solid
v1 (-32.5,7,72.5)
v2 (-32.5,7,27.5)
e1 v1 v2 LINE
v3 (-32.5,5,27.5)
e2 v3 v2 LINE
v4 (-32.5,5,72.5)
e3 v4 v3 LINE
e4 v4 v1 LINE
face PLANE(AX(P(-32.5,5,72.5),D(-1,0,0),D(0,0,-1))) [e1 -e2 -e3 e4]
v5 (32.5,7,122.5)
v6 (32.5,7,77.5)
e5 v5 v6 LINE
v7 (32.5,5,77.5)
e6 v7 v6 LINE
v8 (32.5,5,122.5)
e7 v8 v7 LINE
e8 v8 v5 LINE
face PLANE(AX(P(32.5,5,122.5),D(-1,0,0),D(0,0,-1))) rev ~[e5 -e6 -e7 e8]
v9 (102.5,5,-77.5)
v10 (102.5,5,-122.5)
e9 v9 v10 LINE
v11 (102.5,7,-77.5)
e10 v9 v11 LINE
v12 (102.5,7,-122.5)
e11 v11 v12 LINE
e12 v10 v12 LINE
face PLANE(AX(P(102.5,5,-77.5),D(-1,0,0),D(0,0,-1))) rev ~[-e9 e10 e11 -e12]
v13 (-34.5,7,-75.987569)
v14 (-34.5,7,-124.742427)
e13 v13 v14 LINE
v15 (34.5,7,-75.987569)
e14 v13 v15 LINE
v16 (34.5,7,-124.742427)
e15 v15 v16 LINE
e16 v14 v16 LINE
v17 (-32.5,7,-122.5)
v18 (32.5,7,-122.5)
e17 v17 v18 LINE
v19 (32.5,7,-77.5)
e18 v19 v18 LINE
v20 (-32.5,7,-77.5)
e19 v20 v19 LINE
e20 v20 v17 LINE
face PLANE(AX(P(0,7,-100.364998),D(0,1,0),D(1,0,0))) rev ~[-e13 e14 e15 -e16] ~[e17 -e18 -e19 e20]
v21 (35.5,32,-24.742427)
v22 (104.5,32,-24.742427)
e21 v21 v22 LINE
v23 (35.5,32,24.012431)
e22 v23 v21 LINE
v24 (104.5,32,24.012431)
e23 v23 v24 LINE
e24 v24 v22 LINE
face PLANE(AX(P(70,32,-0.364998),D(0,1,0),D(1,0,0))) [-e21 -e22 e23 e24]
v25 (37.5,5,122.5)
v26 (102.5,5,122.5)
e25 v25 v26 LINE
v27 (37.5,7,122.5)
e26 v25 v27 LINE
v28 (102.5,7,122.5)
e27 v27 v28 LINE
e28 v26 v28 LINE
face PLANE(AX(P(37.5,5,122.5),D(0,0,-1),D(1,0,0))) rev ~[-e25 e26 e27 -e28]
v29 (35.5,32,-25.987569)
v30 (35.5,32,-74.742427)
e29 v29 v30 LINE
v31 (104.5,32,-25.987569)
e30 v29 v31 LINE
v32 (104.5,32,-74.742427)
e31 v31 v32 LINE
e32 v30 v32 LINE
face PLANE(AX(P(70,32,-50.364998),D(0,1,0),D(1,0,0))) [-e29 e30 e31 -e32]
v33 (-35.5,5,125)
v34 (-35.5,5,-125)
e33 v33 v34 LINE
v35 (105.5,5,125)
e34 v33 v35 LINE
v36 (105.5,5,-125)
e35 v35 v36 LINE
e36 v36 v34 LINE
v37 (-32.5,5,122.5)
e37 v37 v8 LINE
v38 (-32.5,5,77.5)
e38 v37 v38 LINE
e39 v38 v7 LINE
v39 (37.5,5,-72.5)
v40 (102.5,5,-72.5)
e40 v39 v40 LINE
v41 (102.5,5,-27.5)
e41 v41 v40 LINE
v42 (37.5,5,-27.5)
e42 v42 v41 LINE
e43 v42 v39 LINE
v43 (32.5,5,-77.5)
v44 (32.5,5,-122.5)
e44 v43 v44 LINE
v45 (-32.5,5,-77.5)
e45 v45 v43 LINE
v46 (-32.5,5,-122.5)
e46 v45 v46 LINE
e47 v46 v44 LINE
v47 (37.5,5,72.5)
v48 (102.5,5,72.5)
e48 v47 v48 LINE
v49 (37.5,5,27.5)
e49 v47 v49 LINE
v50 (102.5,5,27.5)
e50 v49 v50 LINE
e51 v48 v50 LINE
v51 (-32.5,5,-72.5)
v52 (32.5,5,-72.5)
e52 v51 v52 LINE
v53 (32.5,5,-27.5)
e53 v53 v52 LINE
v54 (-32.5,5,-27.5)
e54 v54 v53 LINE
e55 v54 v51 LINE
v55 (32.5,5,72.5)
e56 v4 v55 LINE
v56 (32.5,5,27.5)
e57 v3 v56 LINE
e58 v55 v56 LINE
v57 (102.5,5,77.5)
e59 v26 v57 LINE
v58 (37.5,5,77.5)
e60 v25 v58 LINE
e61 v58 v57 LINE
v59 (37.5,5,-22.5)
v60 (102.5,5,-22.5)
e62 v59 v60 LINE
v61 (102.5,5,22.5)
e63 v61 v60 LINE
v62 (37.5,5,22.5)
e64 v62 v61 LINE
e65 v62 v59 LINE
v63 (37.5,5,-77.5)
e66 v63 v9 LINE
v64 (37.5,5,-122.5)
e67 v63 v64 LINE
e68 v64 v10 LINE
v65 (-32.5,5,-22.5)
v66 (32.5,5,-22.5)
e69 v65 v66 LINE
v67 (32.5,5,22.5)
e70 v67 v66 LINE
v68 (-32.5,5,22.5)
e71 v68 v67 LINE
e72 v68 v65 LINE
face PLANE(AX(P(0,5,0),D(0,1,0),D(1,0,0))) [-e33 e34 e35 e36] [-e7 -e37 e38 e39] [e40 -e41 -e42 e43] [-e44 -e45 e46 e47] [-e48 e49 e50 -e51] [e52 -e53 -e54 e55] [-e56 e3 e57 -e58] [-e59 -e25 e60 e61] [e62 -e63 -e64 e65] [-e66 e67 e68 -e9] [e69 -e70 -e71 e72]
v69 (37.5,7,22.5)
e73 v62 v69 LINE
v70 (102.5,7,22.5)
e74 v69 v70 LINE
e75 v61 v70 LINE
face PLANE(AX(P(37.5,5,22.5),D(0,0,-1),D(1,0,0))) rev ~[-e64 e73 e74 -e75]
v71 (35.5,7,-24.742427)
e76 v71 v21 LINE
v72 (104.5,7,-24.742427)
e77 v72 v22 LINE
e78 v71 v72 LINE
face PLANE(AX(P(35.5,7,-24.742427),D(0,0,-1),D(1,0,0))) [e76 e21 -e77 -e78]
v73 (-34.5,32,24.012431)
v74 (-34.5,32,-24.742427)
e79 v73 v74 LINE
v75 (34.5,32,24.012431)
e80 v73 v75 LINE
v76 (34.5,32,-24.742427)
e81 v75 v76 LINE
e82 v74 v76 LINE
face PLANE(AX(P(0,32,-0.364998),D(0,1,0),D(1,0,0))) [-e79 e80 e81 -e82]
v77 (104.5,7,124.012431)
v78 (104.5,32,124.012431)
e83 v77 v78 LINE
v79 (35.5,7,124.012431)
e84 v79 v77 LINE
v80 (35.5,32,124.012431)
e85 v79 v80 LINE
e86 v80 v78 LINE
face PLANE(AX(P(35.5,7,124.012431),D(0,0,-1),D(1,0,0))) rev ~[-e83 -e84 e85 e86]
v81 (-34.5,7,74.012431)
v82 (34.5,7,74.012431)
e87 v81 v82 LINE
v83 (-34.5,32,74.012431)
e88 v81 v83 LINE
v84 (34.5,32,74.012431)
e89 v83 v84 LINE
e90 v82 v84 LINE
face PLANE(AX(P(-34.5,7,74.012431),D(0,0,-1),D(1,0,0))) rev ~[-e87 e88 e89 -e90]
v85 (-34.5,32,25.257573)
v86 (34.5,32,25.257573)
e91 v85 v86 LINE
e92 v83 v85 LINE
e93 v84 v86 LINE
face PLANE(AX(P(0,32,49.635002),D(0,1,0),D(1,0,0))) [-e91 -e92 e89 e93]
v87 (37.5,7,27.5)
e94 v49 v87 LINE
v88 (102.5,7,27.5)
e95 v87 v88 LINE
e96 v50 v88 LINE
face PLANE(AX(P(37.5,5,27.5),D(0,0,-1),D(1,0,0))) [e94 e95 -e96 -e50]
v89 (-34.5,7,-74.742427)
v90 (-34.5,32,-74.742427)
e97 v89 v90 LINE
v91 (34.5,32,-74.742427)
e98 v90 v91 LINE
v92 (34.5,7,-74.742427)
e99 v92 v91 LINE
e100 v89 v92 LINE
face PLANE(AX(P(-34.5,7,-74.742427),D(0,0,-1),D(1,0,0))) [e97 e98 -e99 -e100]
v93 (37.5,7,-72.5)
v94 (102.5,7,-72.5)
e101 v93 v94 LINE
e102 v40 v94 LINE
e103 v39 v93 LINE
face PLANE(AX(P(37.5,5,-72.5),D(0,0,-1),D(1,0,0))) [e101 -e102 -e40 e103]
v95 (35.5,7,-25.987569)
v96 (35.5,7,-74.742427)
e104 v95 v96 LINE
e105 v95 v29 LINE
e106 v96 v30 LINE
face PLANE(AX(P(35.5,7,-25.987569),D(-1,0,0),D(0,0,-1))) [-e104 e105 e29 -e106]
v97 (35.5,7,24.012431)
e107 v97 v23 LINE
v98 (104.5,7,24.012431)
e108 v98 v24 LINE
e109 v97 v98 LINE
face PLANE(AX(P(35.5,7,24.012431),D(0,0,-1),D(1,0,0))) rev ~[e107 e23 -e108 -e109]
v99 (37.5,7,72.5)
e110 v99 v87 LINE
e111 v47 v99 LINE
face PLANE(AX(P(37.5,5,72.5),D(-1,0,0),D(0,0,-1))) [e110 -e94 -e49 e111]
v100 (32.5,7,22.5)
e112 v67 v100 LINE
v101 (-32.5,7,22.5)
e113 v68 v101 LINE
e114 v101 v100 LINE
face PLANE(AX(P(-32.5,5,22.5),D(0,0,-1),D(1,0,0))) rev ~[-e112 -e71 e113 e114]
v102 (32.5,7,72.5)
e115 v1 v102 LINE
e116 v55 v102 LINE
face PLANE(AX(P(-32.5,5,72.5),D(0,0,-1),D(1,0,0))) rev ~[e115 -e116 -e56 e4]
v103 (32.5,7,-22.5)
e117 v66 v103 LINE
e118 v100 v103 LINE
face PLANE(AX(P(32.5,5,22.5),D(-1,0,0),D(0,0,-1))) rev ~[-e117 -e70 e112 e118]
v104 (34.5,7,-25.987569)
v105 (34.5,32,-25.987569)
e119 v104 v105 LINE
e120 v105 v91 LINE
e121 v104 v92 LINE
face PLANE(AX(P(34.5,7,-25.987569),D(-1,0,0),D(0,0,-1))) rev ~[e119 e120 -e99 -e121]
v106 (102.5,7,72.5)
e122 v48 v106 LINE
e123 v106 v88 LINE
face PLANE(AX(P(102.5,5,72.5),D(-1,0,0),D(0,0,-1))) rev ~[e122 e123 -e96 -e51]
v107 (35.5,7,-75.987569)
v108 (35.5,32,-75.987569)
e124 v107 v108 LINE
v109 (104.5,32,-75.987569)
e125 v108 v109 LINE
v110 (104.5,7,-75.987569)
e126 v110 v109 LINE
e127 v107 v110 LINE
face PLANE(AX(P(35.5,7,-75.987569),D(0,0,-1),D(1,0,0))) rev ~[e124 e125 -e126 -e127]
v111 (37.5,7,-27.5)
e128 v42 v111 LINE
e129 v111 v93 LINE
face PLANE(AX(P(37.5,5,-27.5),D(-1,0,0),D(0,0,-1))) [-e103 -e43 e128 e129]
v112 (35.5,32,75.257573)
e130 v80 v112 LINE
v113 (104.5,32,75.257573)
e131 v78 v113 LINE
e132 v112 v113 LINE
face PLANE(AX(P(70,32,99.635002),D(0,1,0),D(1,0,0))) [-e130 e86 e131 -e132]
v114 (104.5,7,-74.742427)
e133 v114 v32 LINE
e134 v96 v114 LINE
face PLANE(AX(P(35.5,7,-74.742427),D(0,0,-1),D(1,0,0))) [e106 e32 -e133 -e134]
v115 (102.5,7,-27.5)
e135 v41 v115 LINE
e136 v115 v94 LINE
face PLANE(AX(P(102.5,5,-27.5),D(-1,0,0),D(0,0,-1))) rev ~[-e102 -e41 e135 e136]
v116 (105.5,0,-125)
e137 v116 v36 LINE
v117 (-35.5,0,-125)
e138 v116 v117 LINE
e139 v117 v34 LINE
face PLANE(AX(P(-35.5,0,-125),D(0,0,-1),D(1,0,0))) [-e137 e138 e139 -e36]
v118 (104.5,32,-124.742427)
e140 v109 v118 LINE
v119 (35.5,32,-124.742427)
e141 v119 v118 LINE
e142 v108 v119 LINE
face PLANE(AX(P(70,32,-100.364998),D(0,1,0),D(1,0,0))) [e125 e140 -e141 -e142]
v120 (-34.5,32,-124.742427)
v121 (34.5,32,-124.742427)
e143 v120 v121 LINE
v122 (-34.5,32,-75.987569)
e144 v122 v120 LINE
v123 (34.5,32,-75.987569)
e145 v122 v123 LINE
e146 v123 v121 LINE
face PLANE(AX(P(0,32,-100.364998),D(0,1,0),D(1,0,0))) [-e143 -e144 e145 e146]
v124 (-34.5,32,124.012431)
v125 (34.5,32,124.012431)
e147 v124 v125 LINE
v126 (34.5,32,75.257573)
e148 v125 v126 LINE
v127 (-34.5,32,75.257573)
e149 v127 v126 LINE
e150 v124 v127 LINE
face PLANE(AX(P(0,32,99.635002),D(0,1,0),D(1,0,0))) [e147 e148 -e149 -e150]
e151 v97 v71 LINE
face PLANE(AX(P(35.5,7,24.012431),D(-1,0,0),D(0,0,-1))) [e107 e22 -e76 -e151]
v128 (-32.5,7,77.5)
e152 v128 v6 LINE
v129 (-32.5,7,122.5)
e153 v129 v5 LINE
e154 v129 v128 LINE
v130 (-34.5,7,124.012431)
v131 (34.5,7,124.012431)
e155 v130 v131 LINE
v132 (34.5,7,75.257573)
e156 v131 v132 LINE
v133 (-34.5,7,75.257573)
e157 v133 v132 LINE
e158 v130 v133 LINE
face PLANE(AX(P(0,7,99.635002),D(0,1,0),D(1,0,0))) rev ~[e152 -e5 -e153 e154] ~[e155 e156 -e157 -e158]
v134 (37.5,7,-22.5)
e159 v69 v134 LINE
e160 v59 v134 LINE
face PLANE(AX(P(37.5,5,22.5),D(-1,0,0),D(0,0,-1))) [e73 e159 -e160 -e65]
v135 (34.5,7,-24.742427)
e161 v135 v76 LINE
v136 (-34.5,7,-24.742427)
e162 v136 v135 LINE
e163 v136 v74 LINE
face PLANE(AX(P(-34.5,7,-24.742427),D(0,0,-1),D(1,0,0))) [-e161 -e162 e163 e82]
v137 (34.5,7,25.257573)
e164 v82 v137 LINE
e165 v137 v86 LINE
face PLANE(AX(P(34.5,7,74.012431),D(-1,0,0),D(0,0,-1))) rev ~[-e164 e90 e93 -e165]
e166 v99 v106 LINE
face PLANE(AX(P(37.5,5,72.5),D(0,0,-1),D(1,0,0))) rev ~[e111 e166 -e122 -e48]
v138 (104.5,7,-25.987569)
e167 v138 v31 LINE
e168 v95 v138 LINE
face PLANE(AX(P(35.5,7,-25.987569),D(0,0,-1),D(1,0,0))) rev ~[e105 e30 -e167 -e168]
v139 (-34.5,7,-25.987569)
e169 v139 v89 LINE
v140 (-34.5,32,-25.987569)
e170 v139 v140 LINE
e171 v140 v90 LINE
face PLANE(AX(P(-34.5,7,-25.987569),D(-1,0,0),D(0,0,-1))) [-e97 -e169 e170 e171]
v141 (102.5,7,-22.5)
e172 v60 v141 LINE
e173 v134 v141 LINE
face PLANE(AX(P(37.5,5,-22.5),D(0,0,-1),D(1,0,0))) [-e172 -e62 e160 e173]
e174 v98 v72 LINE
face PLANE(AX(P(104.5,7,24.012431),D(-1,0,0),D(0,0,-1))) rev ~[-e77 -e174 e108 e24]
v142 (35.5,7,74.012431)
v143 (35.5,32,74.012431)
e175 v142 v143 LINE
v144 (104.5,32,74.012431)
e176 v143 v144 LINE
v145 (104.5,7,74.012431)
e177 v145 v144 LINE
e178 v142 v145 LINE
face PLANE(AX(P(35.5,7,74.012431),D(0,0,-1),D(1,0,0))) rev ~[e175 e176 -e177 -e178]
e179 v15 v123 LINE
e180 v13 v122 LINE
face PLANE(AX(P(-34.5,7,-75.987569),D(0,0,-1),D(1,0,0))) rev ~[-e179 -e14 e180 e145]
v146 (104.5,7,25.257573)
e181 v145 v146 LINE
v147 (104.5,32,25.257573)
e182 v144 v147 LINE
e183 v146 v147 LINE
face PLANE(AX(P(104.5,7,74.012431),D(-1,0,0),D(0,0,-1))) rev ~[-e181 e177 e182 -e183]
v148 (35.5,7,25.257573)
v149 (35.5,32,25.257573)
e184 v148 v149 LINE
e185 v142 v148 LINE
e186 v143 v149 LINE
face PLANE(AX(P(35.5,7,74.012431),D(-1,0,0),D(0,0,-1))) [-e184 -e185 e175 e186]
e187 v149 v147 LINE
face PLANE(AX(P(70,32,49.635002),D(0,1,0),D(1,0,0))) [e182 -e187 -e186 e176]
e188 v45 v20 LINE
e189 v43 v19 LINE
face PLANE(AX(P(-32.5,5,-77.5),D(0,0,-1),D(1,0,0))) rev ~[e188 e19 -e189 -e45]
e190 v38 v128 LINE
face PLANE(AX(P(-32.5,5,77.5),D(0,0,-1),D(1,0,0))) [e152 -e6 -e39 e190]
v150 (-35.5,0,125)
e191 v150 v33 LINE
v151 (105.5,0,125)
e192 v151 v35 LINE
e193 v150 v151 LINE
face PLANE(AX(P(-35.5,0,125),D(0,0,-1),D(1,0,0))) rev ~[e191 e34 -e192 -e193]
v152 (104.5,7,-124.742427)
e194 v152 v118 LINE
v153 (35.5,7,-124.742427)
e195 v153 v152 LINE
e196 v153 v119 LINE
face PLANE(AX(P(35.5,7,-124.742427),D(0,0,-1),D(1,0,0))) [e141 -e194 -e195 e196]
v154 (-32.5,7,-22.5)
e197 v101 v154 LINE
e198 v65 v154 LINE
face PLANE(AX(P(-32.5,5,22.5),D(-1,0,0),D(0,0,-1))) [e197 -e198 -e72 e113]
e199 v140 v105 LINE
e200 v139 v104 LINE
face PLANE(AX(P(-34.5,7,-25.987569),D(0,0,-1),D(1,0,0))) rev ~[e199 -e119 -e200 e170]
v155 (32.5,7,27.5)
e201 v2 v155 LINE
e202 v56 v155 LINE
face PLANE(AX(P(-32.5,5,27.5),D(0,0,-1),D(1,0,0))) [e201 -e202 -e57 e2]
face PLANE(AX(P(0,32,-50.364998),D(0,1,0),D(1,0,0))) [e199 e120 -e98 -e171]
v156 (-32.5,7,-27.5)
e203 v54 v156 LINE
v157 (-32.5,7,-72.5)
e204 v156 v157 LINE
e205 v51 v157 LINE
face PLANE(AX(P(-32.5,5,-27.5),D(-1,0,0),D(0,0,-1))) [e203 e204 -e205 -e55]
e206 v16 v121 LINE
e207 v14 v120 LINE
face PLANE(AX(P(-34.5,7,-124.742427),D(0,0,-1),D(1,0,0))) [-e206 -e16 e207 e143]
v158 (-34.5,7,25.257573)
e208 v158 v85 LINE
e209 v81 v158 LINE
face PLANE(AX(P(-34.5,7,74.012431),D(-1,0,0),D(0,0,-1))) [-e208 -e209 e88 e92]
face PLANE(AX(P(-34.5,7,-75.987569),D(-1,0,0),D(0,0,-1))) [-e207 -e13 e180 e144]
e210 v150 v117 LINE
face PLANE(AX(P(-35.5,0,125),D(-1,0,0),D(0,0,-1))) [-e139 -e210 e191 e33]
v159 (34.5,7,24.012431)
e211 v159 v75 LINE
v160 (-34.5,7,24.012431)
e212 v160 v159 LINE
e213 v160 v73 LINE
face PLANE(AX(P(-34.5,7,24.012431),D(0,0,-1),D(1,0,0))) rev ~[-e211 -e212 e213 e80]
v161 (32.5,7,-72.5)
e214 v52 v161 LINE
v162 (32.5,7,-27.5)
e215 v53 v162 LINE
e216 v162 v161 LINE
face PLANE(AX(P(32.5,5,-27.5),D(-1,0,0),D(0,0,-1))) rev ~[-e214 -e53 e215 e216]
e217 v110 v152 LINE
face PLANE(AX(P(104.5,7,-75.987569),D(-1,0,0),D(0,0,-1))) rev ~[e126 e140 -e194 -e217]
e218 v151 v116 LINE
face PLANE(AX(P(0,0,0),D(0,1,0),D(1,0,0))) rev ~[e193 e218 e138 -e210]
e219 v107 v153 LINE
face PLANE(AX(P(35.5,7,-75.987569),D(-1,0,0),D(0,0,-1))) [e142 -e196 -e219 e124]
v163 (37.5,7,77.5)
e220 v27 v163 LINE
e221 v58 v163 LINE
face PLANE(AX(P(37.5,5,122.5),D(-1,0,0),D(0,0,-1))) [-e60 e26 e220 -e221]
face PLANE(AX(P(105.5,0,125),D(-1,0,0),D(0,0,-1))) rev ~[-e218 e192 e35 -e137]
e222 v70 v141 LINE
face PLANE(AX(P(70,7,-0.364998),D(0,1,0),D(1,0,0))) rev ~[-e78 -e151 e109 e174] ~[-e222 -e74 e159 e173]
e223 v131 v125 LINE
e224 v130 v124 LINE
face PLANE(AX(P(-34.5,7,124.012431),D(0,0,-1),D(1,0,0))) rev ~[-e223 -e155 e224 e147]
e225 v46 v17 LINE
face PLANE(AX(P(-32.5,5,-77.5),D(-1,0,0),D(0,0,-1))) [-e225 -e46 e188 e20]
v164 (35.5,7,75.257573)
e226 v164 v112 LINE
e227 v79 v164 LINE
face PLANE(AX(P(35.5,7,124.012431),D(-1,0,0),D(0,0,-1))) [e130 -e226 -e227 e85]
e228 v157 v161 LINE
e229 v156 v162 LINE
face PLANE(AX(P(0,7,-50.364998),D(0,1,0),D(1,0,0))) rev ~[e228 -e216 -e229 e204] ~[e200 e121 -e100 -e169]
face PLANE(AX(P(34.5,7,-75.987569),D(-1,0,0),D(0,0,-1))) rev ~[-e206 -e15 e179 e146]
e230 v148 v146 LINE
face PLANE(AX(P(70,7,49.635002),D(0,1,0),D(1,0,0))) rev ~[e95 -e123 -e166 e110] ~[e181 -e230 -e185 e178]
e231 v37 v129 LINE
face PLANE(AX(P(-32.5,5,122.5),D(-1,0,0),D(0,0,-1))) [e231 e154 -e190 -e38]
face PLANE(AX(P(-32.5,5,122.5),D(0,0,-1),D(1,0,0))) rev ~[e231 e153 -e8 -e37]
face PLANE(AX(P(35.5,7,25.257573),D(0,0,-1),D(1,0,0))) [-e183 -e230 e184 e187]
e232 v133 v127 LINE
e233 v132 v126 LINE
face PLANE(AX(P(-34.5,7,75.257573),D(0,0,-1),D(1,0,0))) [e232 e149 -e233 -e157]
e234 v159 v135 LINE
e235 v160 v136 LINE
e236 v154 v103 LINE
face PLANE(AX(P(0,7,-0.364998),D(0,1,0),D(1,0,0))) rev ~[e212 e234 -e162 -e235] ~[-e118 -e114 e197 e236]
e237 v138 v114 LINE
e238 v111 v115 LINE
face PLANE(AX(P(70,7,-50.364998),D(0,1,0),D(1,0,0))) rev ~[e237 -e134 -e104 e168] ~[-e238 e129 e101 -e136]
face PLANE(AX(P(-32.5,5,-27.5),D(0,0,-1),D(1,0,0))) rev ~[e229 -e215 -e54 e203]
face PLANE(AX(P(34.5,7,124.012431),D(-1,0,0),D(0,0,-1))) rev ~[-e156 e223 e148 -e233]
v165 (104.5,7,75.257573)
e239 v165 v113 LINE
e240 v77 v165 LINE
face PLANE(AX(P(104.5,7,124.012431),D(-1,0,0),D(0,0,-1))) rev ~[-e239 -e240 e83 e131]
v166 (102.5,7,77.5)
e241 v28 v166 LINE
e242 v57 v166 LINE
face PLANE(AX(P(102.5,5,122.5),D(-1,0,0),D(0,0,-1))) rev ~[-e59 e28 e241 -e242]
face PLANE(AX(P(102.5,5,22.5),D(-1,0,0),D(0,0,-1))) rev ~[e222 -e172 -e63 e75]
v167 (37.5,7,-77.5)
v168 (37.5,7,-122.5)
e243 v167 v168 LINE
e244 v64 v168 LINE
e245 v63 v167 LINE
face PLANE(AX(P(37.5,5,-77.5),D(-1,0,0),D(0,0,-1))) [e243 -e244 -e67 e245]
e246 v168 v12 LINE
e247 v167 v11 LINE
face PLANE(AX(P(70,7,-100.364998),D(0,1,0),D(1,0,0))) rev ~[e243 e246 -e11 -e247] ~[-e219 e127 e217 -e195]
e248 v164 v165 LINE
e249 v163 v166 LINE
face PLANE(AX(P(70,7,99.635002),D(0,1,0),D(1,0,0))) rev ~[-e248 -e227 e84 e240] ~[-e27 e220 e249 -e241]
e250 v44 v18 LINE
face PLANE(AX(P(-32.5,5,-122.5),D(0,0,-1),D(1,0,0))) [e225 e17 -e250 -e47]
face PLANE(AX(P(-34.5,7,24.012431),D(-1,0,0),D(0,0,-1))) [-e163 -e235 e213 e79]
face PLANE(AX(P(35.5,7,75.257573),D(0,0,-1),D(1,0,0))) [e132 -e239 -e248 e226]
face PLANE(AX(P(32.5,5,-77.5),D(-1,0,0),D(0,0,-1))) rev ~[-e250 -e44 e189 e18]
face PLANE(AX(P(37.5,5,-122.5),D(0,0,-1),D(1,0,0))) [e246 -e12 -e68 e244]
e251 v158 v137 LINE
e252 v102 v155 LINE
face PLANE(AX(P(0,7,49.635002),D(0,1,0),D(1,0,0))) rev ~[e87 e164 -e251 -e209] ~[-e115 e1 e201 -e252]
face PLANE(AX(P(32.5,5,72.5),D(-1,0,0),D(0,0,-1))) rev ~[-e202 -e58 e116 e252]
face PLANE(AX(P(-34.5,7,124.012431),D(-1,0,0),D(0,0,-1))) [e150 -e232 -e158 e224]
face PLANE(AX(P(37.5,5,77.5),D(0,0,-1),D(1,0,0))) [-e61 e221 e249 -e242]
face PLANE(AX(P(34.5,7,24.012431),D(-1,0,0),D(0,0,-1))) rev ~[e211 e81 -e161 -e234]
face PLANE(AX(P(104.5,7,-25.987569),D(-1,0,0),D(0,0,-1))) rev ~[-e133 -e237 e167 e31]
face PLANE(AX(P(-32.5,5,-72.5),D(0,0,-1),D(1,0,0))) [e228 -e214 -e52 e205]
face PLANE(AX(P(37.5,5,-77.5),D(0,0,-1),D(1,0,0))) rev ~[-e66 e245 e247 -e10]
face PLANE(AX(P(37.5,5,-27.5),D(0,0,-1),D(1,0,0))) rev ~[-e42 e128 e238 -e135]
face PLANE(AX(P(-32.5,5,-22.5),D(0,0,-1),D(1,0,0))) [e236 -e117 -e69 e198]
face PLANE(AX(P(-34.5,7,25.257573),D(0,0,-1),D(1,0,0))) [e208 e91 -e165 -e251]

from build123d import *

# Parameters (mm, degrees)
SKETCH1_W                 = 71
SKETCH1_H                 = 250
BOSS_EXTRUDE1_DEPTH       = 5
SKETCH2_W                 = 65
SKETCH2_H                 = 45
BOSS_EXTRUDE3_DEPTH       = 2
LPATTERN1_COUNT           = 5
LPATTERN1_PITCH           = 50
SKETCH3_W                 = 69
SKETCH3_H                 = 48.754858224
BOSS_EXTRUDE8_DEPTH       = 25
LPATTERN5_COUNT           = 5
LPATTERN5_PITCH           = 50
LPATTERN6_COUNT           = 2
LPATTERN6_PITCH           = 70
LPATTERN6_COPY_1_SKETCH_W = 65
LPATTERN6_COPY_1_SKETCH_H = 45
LPATTERN6_COPY_1_DEPTH    = 2
LPATTERN6_COPY_2_SKETCH_W = 65
LPATTERN6_COPY_2_SKETCH_H = 45
LPATTERN6_COPY_2_DEPTH    = 2
LPATTERN6_COPY_3_SKETCH_W = 65
LPATTERN6_COPY_3_SKETCH_H = 45
LPATTERN6_COPY_3_DEPTH    = 2
LPATTERN6_COPY_4_SKETCH_W = 65
LPATTERN6_COPY_4_SKETCH_H = 45
LPATTERN6_COPY_4_DEPTH    = 2
LPATTERN6_COPY_5_SKETCH_W = 69
LPATTERN6_COPY_5_SKETCH_H = 48.754858224
LPATTERN6_COPY_5_DEPTH    = 25
LPATTERN6_COPY_6_SKETCH_W = 69
LPATTERN6_COPY_6_SKETCH_H = 48.754858224
LPATTERN6_COPY_6_DEPTH    = 25
LPATTERN6_COPY_7_SKETCH_W = 69
LPATTERN6_COPY_7_SKETCH_H = 48.754858224
LPATTERN6_COPY_7_DEPTH    = 25
LPATTERN6_COPY_8_SKETCH_W = 69
LPATTERN6_COPY_8_SKETCH_H = 48.754858224
LPATTERN6_COPY_8_DEPTH    = 25


with BuildPart() as part:
    # Sketch1 → Boss-Extrude1 (new body)
    with BuildSketch(Plane(origin=(0, 0, 0), x_dir=(1, 0, 0), z_dir=(0, 1, 0))):
        Rectangle(SKETCH1_W, SKETCH1_H)
    boss_extrude1 = extrude(amount=BOSS_EXTRUDE1_DEPTH)

    # Sketch2 → Boss-Extrude3 (add)
    with BuildSketch(Plane(origin=(0, 5, 0), x_dir=(1, 0, 0), z_dir=(0, 1, 0))):
        with Locations((0, -100)):
            Rectangle(SKETCH2_W, SKETCH2_H)
    boss_extrude3 = extrude(amount=BOSS_EXTRUDE3_DEPTH)

    # LPattern1: Boss-Extrude3 ×5
    with Locations(*[(0, 0, -i * LPATTERN1_PITCH) for i in range(1, LPATTERN1_COUNT)]):
        add(boss_extrude3)

    # Sketch3 → Boss-Extrude8 (add)
    with BuildSketch(Plane(origin=(0, 7, 0), x_dir=(1, 0, 0), z_dir=(0, 1, 0))):
        with Locations((0, -99.635002086)):
            Rectangle(SKETCH3_W, SKETCH3_H)
    boss_extrude8 = extrude(amount=BOSS_EXTRUDE8_DEPTH)

    # LPattern5: Boss-Extrude8 ×5
    with Locations(*[(0, 0, -i * LPATTERN5_PITCH) for i in range(1, LPATTERN5_COUNT)]):
        add(boss_extrude8)

    # LPattern6: Boss-Extrude1, Boss-Extrude3, Boss-Extrude8 ×2
    with Locations(*[(i * LPATTERN6_PITCH, 0, 0) for i in range(1, LPATTERN6_COUNT)]):
        add(boss_extrude1)
        add(boss_extrude3)
        add(boss_extrude8)

    # LPattern6 copy 1 sketch → LPattern6 copy 1 (add)
    with BuildSketch(Plane(origin=(70, 5, -50), x_dir=(1, 0, 0), z_dir=(0, 1, 0))):
        with Locations((0, -100)):
            Rectangle(LPATTERN6_COPY_1_SKETCH_W, LPATTERN6_COPY_1_SKETCH_H)
    extrude(amount=LPATTERN6_COPY_1_DEPTH)

    # LPattern6 copy 2 sketch → LPattern6 copy 2 (add)
    with BuildSketch(Plane(origin=(70, 5, -100), x_dir=(1, 0, 0), z_dir=(0, 1, 0))):
        with Locations((0, -100)):
            Rectangle(LPATTERN6_COPY_2_SKETCH_W, LPATTERN6_COPY_2_SKETCH_H)
    extrude(amount=LPATTERN6_COPY_2_DEPTH)

    # LPattern6 copy 3 sketch → LPattern6 copy 3 (add)
    with BuildSketch(Plane(origin=(70, 5, -150), x_dir=(1, 0, 0), z_dir=(0, 1, 0))):
        with Locations((0, -100)):
            Rectangle(LPATTERN6_COPY_3_SKETCH_W, LPATTERN6_COPY_3_SKETCH_H)
    extrude(amount=LPATTERN6_COPY_3_DEPTH)

    # LPattern6 copy 4 sketch → LPattern6 copy 4 (add)
    with BuildSketch(Plane(origin=(70, 5, -200), x_dir=(1, 0, 0), z_dir=(0, 1, 0))):
        with Locations((0, -100)):
            Rectangle(LPATTERN6_COPY_4_SKETCH_W, LPATTERN6_COPY_4_SKETCH_H)
    extrude(amount=LPATTERN6_COPY_4_DEPTH)

    # LPattern6 copy 5 sketch → LPattern6 copy 5 (add)
    with BuildSketch(Plane(origin=(70, 7, -50), x_dir=(1, 0, 0), z_dir=(0, 1, 0))):
        with Locations((0, -99.635002086)):
            Rectangle(LPATTERN6_COPY_5_SKETCH_W, LPATTERN6_COPY_5_SKETCH_H)
    extrude(amount=LPATTERN6_COPY_5_DEPTH)

    # LPattern6 copy 6 sketch → LPattern6 copy 6 (add)
    with BuildSketch(Plane(origin=(70, 7, -100), x_dir=(1, 0, 0), z_dir=(0, 1, 0))):
        with Locations((0, -99.635002086)):
            Rectangle(LPATTERN6_COPY_6_SKETCH_W, LPATTERN6_COPY_6_SKETCH_H)
    extrude(amount=LPATTERN6_COPY_6_DEPTH)

    # LPattern6 copy 7 sketch → LPattern6 copy 7 (add)
    with BuildSketch(Plane(origin=(70, 7, -150), x_dir=(1, 0, 0), z_dir=(0, 1, 0))):
        with Locations((0, -99.635002086)):
            Rectangle(LPATTERN6_COPY_7_SKETCH_W, LPATTERN6_COPY_7_SKETCH_H)
    extrude(amount=LPATTERN6_COPY_7_DEPTH)

    # LPattern6 copy 8 sketch → LPattern6 copy 8 (add)
    with BuildSketch(Plane(origin=(70, 7, -200), x_dir=(1, 0, 0), z_dir=(0, 1, 0))):
        with Locations((0, -99.635002086)):
            Rectangle(LPATTERN6_COPY_8_SKETCH_W, LPATTERN6_COPY_8_SKETCH_H)
    extrude(amount=LPATTERN6_COPY_8_DEPTH)


solid = part.part
